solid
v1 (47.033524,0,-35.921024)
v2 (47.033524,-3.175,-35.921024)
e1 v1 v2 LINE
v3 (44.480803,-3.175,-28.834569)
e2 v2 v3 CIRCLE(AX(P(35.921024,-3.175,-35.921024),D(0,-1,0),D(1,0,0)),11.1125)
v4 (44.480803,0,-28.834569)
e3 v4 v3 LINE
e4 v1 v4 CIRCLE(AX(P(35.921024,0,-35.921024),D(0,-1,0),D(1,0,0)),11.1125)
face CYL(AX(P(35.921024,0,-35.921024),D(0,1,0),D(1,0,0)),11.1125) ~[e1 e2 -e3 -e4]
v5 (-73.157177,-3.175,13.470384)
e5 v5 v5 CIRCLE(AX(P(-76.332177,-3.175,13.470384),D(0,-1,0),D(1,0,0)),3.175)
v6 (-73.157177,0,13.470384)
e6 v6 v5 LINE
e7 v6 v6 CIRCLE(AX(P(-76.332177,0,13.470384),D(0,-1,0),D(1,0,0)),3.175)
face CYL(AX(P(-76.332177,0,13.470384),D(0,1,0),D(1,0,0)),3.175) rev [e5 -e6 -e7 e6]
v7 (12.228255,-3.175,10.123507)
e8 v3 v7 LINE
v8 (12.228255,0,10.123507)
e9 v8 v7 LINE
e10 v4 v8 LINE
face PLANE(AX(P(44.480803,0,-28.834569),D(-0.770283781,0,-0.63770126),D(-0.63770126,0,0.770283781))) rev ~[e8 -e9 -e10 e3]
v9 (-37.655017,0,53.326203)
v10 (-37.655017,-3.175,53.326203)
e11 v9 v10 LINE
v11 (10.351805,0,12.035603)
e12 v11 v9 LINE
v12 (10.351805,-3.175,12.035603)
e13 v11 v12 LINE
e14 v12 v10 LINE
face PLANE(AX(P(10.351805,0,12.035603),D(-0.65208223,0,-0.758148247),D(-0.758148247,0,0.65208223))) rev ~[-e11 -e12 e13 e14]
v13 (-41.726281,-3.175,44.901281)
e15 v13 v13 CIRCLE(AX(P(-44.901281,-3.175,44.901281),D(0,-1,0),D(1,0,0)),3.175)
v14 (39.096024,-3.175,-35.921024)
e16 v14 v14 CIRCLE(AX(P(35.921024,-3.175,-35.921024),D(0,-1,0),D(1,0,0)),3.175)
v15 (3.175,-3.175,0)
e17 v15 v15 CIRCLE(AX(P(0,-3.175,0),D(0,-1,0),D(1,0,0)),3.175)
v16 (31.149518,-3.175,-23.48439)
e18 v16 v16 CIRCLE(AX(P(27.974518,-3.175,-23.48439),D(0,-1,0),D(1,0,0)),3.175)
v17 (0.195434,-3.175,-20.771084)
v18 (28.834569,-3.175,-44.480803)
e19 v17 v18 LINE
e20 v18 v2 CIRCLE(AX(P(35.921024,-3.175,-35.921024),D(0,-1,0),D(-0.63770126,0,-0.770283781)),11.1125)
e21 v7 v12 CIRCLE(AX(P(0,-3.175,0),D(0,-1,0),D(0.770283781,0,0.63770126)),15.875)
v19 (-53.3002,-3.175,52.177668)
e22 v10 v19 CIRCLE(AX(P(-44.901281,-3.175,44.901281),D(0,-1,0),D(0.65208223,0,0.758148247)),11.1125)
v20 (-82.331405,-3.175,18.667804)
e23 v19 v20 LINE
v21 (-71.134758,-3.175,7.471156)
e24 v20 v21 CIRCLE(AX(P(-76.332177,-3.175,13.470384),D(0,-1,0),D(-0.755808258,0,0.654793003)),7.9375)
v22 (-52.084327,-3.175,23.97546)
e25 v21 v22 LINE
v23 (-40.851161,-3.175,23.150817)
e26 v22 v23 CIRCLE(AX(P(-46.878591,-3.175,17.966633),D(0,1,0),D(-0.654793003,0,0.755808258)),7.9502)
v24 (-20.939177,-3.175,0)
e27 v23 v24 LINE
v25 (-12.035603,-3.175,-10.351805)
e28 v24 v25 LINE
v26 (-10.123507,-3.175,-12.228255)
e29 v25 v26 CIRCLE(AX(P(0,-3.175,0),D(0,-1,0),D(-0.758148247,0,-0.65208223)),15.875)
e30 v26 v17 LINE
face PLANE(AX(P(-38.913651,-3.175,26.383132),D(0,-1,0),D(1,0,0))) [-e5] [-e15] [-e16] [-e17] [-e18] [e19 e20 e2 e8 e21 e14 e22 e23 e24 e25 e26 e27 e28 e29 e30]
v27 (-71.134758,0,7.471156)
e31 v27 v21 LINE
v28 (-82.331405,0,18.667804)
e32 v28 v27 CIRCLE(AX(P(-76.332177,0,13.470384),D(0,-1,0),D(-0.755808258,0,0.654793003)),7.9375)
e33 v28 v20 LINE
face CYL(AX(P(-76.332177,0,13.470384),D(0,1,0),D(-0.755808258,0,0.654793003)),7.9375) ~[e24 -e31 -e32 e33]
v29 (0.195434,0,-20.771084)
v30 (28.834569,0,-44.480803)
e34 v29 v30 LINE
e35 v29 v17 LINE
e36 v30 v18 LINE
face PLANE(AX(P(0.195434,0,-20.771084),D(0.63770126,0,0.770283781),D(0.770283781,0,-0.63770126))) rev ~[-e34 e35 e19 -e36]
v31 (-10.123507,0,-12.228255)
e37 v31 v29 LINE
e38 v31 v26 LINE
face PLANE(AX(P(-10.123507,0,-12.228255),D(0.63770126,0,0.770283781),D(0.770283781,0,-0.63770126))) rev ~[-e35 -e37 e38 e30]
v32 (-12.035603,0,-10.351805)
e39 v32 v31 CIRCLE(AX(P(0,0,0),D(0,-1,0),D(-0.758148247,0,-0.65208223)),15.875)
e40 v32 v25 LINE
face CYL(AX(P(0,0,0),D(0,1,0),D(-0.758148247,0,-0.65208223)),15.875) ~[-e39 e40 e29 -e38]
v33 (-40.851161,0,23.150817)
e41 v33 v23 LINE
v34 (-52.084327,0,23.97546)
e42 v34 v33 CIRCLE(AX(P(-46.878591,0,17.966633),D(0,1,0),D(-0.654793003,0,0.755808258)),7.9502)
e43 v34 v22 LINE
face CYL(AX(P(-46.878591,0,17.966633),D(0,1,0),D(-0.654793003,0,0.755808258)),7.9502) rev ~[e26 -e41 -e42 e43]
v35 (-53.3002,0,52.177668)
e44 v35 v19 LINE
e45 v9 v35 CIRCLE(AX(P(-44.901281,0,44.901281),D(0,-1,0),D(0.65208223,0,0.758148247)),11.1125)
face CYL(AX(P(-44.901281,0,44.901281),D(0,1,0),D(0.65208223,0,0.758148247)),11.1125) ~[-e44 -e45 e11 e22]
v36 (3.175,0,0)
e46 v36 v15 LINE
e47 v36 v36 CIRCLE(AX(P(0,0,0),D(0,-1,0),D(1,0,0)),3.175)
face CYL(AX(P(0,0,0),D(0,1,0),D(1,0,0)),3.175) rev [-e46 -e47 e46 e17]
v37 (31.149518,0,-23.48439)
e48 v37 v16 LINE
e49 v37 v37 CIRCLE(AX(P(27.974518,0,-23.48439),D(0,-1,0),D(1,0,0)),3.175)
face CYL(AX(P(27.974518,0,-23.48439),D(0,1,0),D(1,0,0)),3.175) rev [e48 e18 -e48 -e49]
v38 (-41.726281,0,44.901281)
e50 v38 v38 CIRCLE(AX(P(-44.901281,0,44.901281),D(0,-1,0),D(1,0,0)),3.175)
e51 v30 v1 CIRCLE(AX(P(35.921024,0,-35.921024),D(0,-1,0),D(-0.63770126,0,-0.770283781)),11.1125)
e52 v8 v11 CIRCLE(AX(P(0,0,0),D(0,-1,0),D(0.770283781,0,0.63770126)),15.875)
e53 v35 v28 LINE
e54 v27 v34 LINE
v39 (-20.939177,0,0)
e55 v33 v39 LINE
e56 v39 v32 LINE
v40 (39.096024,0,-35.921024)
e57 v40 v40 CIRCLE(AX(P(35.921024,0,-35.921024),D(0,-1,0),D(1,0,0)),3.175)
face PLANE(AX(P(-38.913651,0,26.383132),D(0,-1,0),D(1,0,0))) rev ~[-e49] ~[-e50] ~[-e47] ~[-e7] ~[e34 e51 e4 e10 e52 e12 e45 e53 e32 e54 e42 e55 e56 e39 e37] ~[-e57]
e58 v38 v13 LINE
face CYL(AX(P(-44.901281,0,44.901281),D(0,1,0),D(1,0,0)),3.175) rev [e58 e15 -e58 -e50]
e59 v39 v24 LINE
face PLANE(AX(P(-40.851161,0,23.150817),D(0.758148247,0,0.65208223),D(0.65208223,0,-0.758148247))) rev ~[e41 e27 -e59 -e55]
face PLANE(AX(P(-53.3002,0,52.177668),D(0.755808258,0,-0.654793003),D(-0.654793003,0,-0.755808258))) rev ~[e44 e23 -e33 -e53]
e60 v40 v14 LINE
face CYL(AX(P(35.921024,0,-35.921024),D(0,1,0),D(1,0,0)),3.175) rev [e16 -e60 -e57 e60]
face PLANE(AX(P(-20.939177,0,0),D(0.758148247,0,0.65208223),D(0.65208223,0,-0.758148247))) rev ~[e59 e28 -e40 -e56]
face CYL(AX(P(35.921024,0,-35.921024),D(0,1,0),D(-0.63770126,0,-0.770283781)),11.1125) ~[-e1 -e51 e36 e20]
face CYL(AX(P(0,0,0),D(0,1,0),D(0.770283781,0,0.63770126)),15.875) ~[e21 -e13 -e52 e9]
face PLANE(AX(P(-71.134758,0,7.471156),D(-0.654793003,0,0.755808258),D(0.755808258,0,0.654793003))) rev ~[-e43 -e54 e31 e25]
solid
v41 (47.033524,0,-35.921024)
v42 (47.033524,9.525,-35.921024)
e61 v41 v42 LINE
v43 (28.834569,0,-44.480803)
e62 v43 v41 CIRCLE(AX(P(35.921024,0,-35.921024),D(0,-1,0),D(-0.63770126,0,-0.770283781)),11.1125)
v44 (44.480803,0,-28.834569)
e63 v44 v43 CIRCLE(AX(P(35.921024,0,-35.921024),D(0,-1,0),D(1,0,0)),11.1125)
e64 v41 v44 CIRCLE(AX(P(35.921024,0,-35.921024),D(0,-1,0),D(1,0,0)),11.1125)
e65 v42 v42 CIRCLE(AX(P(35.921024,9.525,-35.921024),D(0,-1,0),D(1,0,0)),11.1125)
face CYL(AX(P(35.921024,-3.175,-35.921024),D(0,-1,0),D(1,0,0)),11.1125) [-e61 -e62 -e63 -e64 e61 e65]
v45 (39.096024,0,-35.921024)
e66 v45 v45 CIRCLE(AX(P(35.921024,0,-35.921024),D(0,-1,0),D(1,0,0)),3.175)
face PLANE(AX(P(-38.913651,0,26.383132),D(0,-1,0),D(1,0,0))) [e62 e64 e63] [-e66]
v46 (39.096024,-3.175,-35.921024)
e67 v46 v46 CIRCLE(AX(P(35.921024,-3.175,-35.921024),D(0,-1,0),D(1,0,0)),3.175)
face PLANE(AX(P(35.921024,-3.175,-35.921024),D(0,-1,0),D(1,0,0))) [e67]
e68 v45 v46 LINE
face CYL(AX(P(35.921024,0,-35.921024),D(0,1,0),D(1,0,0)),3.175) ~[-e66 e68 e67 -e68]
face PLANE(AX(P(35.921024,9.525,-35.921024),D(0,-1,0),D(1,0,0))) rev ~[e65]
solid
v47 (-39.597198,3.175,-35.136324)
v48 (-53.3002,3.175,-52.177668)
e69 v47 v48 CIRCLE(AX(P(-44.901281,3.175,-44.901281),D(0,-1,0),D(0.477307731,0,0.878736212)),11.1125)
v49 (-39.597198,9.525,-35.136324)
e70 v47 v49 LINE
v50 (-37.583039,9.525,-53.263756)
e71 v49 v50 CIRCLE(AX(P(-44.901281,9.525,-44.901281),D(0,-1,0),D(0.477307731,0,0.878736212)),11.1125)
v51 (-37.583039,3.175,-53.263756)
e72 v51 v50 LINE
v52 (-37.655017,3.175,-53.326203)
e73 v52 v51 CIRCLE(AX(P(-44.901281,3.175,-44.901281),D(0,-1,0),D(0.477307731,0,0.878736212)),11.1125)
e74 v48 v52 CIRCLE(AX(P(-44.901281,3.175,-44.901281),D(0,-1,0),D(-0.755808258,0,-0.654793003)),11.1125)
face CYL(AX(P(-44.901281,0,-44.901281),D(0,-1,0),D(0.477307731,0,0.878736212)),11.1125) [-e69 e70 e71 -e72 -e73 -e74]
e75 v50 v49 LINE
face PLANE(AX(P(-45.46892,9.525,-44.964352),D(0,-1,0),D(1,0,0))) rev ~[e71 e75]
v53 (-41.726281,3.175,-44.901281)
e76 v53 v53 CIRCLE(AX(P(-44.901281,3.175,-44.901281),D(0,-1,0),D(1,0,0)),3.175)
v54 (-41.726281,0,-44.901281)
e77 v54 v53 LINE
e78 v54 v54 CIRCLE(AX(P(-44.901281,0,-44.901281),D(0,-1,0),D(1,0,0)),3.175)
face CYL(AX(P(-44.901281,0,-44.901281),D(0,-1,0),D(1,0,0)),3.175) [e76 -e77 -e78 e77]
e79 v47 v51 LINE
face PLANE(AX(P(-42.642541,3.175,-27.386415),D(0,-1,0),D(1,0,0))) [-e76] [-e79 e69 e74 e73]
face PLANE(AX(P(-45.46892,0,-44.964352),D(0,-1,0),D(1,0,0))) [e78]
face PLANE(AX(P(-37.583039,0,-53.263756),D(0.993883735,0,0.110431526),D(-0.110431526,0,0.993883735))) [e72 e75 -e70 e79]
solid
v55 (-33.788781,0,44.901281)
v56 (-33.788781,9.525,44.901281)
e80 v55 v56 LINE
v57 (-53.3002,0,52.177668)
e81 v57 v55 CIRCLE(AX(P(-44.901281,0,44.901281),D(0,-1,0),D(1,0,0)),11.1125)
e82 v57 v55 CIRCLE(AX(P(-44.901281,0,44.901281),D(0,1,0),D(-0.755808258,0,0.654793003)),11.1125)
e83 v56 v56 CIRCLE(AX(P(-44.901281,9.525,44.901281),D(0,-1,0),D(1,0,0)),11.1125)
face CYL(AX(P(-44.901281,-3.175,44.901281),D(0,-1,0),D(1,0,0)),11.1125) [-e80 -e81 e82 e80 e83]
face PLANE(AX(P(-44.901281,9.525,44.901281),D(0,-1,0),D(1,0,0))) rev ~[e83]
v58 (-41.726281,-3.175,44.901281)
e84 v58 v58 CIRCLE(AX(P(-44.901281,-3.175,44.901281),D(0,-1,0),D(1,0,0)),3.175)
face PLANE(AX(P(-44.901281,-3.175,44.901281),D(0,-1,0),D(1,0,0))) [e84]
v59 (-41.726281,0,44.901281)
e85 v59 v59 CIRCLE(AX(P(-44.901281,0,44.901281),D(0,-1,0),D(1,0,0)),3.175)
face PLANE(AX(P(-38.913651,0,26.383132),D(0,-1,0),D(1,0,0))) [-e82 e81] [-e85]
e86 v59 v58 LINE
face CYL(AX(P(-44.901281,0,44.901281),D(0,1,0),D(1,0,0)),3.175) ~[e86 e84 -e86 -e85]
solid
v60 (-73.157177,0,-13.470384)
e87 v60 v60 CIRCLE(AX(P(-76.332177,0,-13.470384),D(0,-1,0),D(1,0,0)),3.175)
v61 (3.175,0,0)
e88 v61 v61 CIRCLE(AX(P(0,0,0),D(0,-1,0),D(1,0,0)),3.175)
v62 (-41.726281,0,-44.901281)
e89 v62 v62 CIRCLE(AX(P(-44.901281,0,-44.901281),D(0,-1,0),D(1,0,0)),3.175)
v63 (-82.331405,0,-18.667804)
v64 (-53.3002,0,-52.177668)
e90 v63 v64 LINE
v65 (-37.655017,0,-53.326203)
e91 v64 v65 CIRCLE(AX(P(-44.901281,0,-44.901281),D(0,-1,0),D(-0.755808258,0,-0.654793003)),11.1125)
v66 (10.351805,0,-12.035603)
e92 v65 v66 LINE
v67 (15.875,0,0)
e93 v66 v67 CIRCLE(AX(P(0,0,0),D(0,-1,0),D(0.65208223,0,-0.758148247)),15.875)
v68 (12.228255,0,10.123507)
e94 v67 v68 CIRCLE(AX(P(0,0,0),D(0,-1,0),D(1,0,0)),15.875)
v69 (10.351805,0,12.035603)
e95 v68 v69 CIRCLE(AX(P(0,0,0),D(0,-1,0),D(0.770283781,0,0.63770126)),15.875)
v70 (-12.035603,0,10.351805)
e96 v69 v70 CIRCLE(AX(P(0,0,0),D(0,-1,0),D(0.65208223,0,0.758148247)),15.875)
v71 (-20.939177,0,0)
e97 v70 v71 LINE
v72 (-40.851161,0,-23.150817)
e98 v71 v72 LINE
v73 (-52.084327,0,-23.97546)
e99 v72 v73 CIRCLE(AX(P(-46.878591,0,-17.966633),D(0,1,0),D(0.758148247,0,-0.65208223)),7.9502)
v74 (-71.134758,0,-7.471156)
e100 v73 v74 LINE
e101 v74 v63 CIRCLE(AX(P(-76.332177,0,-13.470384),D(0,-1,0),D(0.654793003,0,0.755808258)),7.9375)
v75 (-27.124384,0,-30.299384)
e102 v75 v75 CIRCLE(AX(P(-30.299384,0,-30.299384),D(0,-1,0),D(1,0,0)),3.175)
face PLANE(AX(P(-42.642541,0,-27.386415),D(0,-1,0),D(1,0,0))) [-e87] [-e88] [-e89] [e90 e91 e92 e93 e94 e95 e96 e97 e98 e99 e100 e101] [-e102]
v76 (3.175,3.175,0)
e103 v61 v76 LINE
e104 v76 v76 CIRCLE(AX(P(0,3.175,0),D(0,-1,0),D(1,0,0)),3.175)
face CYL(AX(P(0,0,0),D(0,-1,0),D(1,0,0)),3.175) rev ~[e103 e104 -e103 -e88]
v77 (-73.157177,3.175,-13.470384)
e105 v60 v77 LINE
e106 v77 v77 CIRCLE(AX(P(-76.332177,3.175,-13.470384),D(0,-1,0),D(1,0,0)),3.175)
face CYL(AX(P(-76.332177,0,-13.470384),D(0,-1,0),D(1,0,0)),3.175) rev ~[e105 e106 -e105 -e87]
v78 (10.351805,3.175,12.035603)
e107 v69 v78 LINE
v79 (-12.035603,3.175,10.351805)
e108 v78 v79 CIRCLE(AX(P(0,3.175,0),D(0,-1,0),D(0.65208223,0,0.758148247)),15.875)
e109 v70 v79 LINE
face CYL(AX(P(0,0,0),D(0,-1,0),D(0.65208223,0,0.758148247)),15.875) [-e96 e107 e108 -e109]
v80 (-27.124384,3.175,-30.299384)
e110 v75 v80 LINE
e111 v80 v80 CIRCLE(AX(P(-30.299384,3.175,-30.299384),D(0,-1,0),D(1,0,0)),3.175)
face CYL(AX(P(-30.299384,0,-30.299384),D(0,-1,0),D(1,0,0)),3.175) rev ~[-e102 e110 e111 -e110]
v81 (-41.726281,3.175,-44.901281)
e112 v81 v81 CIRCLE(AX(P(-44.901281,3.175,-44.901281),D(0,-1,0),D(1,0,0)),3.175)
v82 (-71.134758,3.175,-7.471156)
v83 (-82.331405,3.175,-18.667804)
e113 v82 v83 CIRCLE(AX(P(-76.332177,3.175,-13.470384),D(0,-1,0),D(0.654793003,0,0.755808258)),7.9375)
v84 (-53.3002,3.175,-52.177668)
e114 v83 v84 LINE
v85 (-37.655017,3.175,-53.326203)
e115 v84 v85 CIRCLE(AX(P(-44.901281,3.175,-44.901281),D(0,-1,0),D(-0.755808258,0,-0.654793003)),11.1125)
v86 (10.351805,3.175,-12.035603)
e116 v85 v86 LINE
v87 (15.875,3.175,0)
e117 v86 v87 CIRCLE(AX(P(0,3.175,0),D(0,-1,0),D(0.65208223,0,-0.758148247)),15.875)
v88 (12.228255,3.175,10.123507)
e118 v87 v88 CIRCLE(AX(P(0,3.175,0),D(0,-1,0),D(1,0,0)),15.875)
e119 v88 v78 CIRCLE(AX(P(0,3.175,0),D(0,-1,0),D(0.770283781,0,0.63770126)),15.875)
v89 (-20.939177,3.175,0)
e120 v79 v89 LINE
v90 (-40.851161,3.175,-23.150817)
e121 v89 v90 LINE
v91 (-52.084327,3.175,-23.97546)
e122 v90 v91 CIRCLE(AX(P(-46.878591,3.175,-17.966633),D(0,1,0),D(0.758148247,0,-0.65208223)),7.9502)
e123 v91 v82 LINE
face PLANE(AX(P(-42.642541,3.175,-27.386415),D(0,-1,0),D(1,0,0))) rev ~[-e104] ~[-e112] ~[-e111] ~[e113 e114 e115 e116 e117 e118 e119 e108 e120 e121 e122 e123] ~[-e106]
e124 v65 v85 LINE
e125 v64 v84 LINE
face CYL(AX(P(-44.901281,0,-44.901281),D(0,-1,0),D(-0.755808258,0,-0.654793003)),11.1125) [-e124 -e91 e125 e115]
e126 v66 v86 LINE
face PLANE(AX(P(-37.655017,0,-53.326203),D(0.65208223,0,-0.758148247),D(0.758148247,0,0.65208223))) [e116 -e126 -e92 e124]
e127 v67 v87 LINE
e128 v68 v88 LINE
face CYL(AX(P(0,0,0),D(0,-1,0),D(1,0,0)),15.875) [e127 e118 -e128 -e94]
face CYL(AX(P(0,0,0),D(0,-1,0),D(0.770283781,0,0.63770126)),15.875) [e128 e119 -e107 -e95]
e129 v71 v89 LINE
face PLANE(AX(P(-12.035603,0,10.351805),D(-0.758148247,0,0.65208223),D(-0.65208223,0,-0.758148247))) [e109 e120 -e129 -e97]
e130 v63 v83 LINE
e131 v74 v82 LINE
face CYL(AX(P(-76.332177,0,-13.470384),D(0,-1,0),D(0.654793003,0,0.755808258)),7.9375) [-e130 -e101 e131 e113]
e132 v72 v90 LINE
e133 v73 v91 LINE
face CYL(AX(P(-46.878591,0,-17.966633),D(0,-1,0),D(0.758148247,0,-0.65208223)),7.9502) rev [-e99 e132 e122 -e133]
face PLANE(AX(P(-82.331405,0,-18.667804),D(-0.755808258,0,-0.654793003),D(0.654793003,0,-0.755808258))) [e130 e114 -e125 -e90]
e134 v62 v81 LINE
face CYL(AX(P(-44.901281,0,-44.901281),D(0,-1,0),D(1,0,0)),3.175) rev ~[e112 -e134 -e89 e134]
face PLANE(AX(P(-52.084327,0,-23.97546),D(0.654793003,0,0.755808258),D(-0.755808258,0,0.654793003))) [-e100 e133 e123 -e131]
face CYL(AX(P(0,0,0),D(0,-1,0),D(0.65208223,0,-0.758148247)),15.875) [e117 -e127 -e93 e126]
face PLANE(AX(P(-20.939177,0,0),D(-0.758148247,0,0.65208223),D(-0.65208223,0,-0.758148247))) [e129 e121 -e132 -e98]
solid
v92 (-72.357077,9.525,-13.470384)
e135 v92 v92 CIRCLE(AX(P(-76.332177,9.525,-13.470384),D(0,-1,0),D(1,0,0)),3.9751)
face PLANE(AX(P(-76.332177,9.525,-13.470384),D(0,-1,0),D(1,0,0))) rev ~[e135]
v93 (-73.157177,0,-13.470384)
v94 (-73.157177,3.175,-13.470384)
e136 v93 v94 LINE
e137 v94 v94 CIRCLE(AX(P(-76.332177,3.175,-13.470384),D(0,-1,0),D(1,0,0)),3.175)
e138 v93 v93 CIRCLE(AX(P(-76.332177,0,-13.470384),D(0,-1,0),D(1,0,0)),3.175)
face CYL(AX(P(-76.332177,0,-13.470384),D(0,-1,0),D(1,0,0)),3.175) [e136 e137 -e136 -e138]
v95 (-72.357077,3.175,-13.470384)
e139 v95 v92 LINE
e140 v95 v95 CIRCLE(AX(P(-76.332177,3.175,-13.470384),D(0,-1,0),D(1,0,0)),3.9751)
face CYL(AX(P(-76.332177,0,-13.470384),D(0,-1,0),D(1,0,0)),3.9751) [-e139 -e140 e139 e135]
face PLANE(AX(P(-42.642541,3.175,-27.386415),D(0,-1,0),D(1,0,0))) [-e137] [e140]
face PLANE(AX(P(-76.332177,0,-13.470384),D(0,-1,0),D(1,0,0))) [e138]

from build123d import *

# Parameters (mm, degrees)
F0_R     = 3.175
F0_R_2   = 3.9751
F1_DEPTH = 3.175
F2_DEPTH = 3.175
F5_DEPTH = 9.525
F3_R     = 3.9751
F6_R     = 11.1125
F7_DEPTH = 12.7


with BuildPart() as f1:
    # F0 (on Front) → F1 (new body)
    with BuildSketch(Plane.XZ):
        with BuildLine():
            ThreePointArc((-82.331405076, 18.6678036462), (-73.5586383483, 20.9075469092), (-68.3946770291, 13.4703841816))
            ThreePointArc((-68.3946770291, 13.4703841816), (-69.1121208226, 10.1727039932), (-71.1347575644, 7.4711561347))
            Line((-71.1347575644, 7.4711561347), (-52.0843267669, 23.9754595323))
            ThreePointArc((-52.0843267669, 23.9754595323), (-46.2965222838, 25.8954961667), (-40.8511612346, 23.1508168672))
            Line((-40.8511612346, 23.1508168672), (-20.9391765456, 0))
            Line((-20.9391765456, 0), (-12.0356034274, 10.3518054047))
            ThreePointArc((-12.0356034274, 10.3518054047), (-1.190625, 15.8302885984), (10.3518054047, 12.0356034274))
            Line((10.3518054047, 12.0356034274), (-37.655016822, 53.3262030046))
            ThreePointArc((-37.655016822, 53.3262030046), (-34.8014845049, 49.5361241819), (-33.7887806053, 44.9012806053))
            ThreePointArc((-33.7887806053, 44.9012806053), (-48.7842347585, 34.4892527868), (-53.300199871, 52.1776678558))
            Line((-53.300199871, 52.1776678558), (-82.331405076, 18.6678036462))
        make_face()
        with BuildLine():
            ThreePointArc((-37.655016822, 53.3262030046), (-45.7148756595, 55.9839571475), (-53.300199871, 52.1776678558))
            ThreePointArc((-53.300199871, 52.1776678558), (-48.7842347585, 34.4892527868), (-33.7887806053, 44.9012806053))
            ThreePointArc((-33.7887806053, 44.9012806053), (-34.8014845049, 49.5361241819), (-37.655016822, 53.3262030046))
        make_face()
        with Locations((-44.9012806053, 44.9012806053)):
            Circle(F0_R, mode=Mode.SUBTRACT)
        with BuildLine():
            ThreePointArc((-71.1347575644, 7.4711561347), (-69.1121208226, 10.1727039932), (-68.3946770291, 13.4703841816))
            ThreePointArc((-68.3946770291, 13.4703841816), (-73.5586383483, 20.9075469092), (-82.331405076, 18.6678036462))
            ThreePointArc((-82.331405076, 18.6678036462), (-81.9448371048, 7.8577241059), (-71.1347575644, 7.4711561347))
        make_face()
        with Locations((-76.3321770291, 13.4703841816)):
            Circle(F0_R, mode=Mode.SUBTRACT)
        with BuildLine():
            ThreePointArc((12.2282550252, 10.1235074968), (11.3304373246, 11.1192092809), (10.3518054047, 12.0356034274))
            ThreePointArc((10.3518054047, 12.0356034274), (-1.190625, 15.8302885984), (-12.0356034274, 10.3518054047))
            ThreePointArc((-12.0356034274, 10.3518054047), (-15.875, 0), (-12.0356034274, -10.3518054047))
            ThreePointArc((-12.0356034274, -10.3518054047), (-11.1192092809, -11.3304373246), (-10.1235074968, -12.2282550252))
            ThreePointArc((-10.1235074968, -12.2282550252), (0.1493607821, -15.87429735), (10.3518054047, -12.0356034274))
            ThreePointArc((10.3518054047, -12.0356034274), (14.4282801435, -6.6212051093), (15.875, 0))
            ThreePointArc((15.875, 0), (14.9355142785, 5.3801522504), (12.2282550252, 10.1235074968))
        make_face()
        Circle(F0_R_2, mode=Mode.SUBTRACT)
        with BuildLine():
            Line((44.4808030019, -28.8345692365), (12.2282550252, 10.1235074968))
            ThreePointArc((12.2282550252, 10.1235074968), (14.9355142785, 5.3801522504), (15.875, 0))
            ThreePointArc((15.875, 0), (14.4282801435, -6.6212051093), (10.3518054047, -12.0356034274))
            Line((10.3518054047, -12.0356034274), (0.1954344954, -20.7710836138))
            Line((0.1954344954, -20.7710836138), (28.8345692365, -44.4808030019))
            ThreePointArc((28.8345692365, -44.4808030019), (28.0633003783, -28.0633003783), (44.4808030019, -28.8345692365))
        make_face()
        with Locations((27.9745180668, -23.4843900063)):
            Circle(F0_R, mode=Mode.SUBTRACT)
        with BuildLine():
            ThreePointArc((47.0335244843, -35.9210244843), (46.3758844792, -32.154917909), (44.4808030019, -28.8345692365))
            ThreePointArc((44.4808030019, -28.8345692365), (28.0633003783, -28.0633003783), (28.8345692365, -44.4808030019))
            ThreePointArc((28.8345692365, -44.4808030019), (40.650687385, -45.9767663811), (47.0335244843, -35.9210244843))
        make_face()
        with Locations((35.9210244843, -35.9210244843)):
            Circle(F0_R, mode=Mode.SUBTRACT)
        with BuildLine():
            ThreePointArc((10.3518054047, -12.0356034274), (0.1493607821, -15.87429735), (-10.1235074968, -12.2282550252))
            Line((-10.1235074968, -12.2282550252), (0.1954344954, -20.7710836138))
            Line((0.1954344954, -20.7710836138), (10.3518054047, -12.0356034274))
        make_face()
        with BuildLine():
            Line((-12.0356034274, 10.3518054047), (-20.9391765456, 0))
            Line((-20.9391765456, 0), (-12.0356034274, -10.3518054047))
            ThreePointArc((-12.0356034274, -10.3518054047), (-15.875, 0), (-12.0356034274, 10.3518054047))
        make_face()
        Circle(F0_R_2)
        Circle(F0_R, mode=Mode.SUBTRACT)
    extrude(amount=F1_DEPTH)


with BuildPart() as f2:
    # F0 (on Front) → F2 (new body)
    with BuildSketch(Plane.XZ):
        with BuildLine():
            Line((-12.0356034274, -10.3518054047), (-20.9391765456, 0))
            Line((-20.9391765456, 0), (-40.8511612346, -23.1508168672))
            ThreePointArc((-40.8511612346, -23.1508168672), (-46.2965222838, -25.8954961667), (-52.0843267669, -23.9754595323))
            Line((-52.0843267669, -23.9754595323), (-71.1347575644, -7.4711561347))
            ThreePointArc((-71.1347575644, -7.4711561347), (-69.1121208226, -10.1727039932), (-68.3946770291, -13.4703841816))
            ThreePointArc((-68.3946770291, -13.4703841816), (-73.5586383483, -20.9075469092), (-82.331405076, -18.6678036462))
            Line((-82.331405076, -18.6678036462), (-53.300199871, -52.1776678559))
            ThreePointArc((-53.300199871, -52.1776678559), (-48.7842347585, -34.4892527868), (-33.7887806053, -44.9012806053))
            ThreePointArc((-33.7887806053, -44.9012806053), (-34.8014845049, -49.5361241819), (-37.655016822, -53.3262030046))
            Line((-37.655016822, -53.3262030046), (0.1954344954, -20.7710836138))
            Line((0.1954344954, -20.7710836138), (-10.1235074968, -12.2282550252))
            ThreePointArc((-10.1235074968, -12.2282550252), (-11.1192092809, -11.3304373246), (-12.0356034274, -10.3518054047))
        make_face()
        with Locations((-30.2993841525, -30.2993841525)):
            Circle(F0_R, mode=Mode.SUBTRACT)
        with BuildLine():
            ThreePointArc((-53.300199871, -52.1776678559), (-45.7148756595, -55.9839571475), (-37.655016822, -53.3262030046))
            ThreePointArc((-37.655016822, -53.3262030046), (-34.8014845049, -49.5361241819), (-33.7887806053, -44.9012806053))
            ThreePointArc((-33.7887806053, -44.9012806053), (-48.7842347585, -34.4892527868), (-53.300199871, -52.1776678559))
        make_face()
        with Locations((-44.9012806053, -44.9012806053)):
            Circle(F0_R, mode=Mode.SUBTRACT)
        with BuildLine():
            ThreePointArc((-68.3946770291, -13.4703841816), (-69.1121208226, -10.1727039932), (-71.1347575644, -7.4711561347))
            ThreePointArc((-71.1347575644, -7.4711561347), (-81.9448371048, -7.8577241059), (-82.331405076, -18.6678036462))
            ThreePointArc((-82.331405076, -18.6678036462), (-73.5586383483, -20.9075469092), (-68.3946770291, -13.4703841816))
        make_face()
        with Locations((-76.3321770291, -13.4703841816)):
            Circle(F0_R, mode=Mode.SUBTRACT)
        with BuildLine():
            ThreePointArc((12.2282550252, 10.1235074968), (11.3304373246, 11.1192092809), (10.3518054047, 12.0356034274))
            ThreePointArc((10.3518054047, 12.0356034274), (-1.190625, 15.8302885984), (-12.0356034274, 10.3518054047))
            ThreePointArc((-12.0356034274, 10.3518054047), (-15.875, 0), (-12.0356034274, -10.3518054047))
            ThreePointArc((-12.0356034274, -10.3518054047), (-11.1192092809, -11.3304373246), (-10.1235074968, -12.2282550252))
            ThreePointArc((-10.1235074968, -12.2282550252), (0.1493607821, -15.87429735), (10.3518054047, -12.0356034274))
            ThreePointArc((10.3518054047, -12.0356034274), (14.4282801435, -6.6212051093), (15.875, 0))
            ThreePointArc((15.875, 0), (14.9355142785, 5.3801522504), (12.2282550252, 10.1235074968))
        make_face()
        Circle(F0_R_2, mode=Mode.SUBTRACT)
        with BuildLine():
            Line((-12.0356034274, 10.3518054047), (-20.9391765456, 0))
            Line((-20.9391765456, 0), (-12.0356034274, -10.3518054047))
            ThreePointArc((-12.0356034274, -10.3518054047), (-15.875, 0), (-12.0356034274, 10.3518054047))
        make_face()
        with BuildLine():
            ThreePointArc((10.3518054047, -12.0356034274), (0.1493607821, -15.87429735), (-10.1235074968, -12.2282550252))
            Line((-10.1235074968, -12.2282550252), (0.1954344954, -20.7710836138))
            Line((0.1954344954, -20.7710836138), (10.3518054047, -12.0356034274))
        make_face()
        Circle(F0_R_2)
        Circle(F0_R, mode=Mode.SUBTRACT)
    extrude(amount=-F2_DEPTH)


with BuildPart() as f5:
    # F3 (on Front) → F5 (new body, through all)
    with BuildSketch(Plane.XZ):
        with BuildLine():
            Line((-37.5830393389, -53.2637563761), (-39.5971984414, -35.1363244535))
            ThreePointArc((-39.5971984414, -35.1363244535), (-55.9458136069, -46.1284509389), (-37.5830393389, -53.2637563761))
        make_face()
    extrude(amount=-F5_DEPTH)

    # F10: cut F2
    add(f2.part, mode=Mode.SUBTRACT)


with BuildPart() as f5b:
    # F3 (on Front) → F5, piece 2 (new body, through all)
    with BuildSketch(Plane.XZ):
        with Locations((-76.3321770291, -13.4703841816)):
            Circle(F3_R)
    extrude(amount=-F5_DEPTH)

    # F11: cut F2
    add(f2.part, mode=Mode.SUBTRACT)


with BuildPart() as f7:
    # F6 (on face) → F7 (new body, through all)
    with BuildSketch(Plane.XZ.offset(3.175)):
        with Locations((35.9210244843, -35.9210244843)):
            Circle(F6_R)
    extrude(amount=-F7_DEPTH)

    # F8: cut F1
    add(f1.part, mode=Mode.SUBTRACT)


with BuildPart() as f7b:
    # F6 (on face) → F7, piece 2 (new body, through all)
    with BuildSketch(Plane.XZ.offset(3.175)):
        with Locations((-44.9012806053, 44.9012806053)):
            Circle(F6_R)
    extrude(amount=-F7_DEPTH)

    # F9: cut F1
    add(f1.part, mode=Mode.SUBTRACT)


solid = Compound([f1.part, f2.part, f5.part, f5b.part, f7.part, f7b.part])
